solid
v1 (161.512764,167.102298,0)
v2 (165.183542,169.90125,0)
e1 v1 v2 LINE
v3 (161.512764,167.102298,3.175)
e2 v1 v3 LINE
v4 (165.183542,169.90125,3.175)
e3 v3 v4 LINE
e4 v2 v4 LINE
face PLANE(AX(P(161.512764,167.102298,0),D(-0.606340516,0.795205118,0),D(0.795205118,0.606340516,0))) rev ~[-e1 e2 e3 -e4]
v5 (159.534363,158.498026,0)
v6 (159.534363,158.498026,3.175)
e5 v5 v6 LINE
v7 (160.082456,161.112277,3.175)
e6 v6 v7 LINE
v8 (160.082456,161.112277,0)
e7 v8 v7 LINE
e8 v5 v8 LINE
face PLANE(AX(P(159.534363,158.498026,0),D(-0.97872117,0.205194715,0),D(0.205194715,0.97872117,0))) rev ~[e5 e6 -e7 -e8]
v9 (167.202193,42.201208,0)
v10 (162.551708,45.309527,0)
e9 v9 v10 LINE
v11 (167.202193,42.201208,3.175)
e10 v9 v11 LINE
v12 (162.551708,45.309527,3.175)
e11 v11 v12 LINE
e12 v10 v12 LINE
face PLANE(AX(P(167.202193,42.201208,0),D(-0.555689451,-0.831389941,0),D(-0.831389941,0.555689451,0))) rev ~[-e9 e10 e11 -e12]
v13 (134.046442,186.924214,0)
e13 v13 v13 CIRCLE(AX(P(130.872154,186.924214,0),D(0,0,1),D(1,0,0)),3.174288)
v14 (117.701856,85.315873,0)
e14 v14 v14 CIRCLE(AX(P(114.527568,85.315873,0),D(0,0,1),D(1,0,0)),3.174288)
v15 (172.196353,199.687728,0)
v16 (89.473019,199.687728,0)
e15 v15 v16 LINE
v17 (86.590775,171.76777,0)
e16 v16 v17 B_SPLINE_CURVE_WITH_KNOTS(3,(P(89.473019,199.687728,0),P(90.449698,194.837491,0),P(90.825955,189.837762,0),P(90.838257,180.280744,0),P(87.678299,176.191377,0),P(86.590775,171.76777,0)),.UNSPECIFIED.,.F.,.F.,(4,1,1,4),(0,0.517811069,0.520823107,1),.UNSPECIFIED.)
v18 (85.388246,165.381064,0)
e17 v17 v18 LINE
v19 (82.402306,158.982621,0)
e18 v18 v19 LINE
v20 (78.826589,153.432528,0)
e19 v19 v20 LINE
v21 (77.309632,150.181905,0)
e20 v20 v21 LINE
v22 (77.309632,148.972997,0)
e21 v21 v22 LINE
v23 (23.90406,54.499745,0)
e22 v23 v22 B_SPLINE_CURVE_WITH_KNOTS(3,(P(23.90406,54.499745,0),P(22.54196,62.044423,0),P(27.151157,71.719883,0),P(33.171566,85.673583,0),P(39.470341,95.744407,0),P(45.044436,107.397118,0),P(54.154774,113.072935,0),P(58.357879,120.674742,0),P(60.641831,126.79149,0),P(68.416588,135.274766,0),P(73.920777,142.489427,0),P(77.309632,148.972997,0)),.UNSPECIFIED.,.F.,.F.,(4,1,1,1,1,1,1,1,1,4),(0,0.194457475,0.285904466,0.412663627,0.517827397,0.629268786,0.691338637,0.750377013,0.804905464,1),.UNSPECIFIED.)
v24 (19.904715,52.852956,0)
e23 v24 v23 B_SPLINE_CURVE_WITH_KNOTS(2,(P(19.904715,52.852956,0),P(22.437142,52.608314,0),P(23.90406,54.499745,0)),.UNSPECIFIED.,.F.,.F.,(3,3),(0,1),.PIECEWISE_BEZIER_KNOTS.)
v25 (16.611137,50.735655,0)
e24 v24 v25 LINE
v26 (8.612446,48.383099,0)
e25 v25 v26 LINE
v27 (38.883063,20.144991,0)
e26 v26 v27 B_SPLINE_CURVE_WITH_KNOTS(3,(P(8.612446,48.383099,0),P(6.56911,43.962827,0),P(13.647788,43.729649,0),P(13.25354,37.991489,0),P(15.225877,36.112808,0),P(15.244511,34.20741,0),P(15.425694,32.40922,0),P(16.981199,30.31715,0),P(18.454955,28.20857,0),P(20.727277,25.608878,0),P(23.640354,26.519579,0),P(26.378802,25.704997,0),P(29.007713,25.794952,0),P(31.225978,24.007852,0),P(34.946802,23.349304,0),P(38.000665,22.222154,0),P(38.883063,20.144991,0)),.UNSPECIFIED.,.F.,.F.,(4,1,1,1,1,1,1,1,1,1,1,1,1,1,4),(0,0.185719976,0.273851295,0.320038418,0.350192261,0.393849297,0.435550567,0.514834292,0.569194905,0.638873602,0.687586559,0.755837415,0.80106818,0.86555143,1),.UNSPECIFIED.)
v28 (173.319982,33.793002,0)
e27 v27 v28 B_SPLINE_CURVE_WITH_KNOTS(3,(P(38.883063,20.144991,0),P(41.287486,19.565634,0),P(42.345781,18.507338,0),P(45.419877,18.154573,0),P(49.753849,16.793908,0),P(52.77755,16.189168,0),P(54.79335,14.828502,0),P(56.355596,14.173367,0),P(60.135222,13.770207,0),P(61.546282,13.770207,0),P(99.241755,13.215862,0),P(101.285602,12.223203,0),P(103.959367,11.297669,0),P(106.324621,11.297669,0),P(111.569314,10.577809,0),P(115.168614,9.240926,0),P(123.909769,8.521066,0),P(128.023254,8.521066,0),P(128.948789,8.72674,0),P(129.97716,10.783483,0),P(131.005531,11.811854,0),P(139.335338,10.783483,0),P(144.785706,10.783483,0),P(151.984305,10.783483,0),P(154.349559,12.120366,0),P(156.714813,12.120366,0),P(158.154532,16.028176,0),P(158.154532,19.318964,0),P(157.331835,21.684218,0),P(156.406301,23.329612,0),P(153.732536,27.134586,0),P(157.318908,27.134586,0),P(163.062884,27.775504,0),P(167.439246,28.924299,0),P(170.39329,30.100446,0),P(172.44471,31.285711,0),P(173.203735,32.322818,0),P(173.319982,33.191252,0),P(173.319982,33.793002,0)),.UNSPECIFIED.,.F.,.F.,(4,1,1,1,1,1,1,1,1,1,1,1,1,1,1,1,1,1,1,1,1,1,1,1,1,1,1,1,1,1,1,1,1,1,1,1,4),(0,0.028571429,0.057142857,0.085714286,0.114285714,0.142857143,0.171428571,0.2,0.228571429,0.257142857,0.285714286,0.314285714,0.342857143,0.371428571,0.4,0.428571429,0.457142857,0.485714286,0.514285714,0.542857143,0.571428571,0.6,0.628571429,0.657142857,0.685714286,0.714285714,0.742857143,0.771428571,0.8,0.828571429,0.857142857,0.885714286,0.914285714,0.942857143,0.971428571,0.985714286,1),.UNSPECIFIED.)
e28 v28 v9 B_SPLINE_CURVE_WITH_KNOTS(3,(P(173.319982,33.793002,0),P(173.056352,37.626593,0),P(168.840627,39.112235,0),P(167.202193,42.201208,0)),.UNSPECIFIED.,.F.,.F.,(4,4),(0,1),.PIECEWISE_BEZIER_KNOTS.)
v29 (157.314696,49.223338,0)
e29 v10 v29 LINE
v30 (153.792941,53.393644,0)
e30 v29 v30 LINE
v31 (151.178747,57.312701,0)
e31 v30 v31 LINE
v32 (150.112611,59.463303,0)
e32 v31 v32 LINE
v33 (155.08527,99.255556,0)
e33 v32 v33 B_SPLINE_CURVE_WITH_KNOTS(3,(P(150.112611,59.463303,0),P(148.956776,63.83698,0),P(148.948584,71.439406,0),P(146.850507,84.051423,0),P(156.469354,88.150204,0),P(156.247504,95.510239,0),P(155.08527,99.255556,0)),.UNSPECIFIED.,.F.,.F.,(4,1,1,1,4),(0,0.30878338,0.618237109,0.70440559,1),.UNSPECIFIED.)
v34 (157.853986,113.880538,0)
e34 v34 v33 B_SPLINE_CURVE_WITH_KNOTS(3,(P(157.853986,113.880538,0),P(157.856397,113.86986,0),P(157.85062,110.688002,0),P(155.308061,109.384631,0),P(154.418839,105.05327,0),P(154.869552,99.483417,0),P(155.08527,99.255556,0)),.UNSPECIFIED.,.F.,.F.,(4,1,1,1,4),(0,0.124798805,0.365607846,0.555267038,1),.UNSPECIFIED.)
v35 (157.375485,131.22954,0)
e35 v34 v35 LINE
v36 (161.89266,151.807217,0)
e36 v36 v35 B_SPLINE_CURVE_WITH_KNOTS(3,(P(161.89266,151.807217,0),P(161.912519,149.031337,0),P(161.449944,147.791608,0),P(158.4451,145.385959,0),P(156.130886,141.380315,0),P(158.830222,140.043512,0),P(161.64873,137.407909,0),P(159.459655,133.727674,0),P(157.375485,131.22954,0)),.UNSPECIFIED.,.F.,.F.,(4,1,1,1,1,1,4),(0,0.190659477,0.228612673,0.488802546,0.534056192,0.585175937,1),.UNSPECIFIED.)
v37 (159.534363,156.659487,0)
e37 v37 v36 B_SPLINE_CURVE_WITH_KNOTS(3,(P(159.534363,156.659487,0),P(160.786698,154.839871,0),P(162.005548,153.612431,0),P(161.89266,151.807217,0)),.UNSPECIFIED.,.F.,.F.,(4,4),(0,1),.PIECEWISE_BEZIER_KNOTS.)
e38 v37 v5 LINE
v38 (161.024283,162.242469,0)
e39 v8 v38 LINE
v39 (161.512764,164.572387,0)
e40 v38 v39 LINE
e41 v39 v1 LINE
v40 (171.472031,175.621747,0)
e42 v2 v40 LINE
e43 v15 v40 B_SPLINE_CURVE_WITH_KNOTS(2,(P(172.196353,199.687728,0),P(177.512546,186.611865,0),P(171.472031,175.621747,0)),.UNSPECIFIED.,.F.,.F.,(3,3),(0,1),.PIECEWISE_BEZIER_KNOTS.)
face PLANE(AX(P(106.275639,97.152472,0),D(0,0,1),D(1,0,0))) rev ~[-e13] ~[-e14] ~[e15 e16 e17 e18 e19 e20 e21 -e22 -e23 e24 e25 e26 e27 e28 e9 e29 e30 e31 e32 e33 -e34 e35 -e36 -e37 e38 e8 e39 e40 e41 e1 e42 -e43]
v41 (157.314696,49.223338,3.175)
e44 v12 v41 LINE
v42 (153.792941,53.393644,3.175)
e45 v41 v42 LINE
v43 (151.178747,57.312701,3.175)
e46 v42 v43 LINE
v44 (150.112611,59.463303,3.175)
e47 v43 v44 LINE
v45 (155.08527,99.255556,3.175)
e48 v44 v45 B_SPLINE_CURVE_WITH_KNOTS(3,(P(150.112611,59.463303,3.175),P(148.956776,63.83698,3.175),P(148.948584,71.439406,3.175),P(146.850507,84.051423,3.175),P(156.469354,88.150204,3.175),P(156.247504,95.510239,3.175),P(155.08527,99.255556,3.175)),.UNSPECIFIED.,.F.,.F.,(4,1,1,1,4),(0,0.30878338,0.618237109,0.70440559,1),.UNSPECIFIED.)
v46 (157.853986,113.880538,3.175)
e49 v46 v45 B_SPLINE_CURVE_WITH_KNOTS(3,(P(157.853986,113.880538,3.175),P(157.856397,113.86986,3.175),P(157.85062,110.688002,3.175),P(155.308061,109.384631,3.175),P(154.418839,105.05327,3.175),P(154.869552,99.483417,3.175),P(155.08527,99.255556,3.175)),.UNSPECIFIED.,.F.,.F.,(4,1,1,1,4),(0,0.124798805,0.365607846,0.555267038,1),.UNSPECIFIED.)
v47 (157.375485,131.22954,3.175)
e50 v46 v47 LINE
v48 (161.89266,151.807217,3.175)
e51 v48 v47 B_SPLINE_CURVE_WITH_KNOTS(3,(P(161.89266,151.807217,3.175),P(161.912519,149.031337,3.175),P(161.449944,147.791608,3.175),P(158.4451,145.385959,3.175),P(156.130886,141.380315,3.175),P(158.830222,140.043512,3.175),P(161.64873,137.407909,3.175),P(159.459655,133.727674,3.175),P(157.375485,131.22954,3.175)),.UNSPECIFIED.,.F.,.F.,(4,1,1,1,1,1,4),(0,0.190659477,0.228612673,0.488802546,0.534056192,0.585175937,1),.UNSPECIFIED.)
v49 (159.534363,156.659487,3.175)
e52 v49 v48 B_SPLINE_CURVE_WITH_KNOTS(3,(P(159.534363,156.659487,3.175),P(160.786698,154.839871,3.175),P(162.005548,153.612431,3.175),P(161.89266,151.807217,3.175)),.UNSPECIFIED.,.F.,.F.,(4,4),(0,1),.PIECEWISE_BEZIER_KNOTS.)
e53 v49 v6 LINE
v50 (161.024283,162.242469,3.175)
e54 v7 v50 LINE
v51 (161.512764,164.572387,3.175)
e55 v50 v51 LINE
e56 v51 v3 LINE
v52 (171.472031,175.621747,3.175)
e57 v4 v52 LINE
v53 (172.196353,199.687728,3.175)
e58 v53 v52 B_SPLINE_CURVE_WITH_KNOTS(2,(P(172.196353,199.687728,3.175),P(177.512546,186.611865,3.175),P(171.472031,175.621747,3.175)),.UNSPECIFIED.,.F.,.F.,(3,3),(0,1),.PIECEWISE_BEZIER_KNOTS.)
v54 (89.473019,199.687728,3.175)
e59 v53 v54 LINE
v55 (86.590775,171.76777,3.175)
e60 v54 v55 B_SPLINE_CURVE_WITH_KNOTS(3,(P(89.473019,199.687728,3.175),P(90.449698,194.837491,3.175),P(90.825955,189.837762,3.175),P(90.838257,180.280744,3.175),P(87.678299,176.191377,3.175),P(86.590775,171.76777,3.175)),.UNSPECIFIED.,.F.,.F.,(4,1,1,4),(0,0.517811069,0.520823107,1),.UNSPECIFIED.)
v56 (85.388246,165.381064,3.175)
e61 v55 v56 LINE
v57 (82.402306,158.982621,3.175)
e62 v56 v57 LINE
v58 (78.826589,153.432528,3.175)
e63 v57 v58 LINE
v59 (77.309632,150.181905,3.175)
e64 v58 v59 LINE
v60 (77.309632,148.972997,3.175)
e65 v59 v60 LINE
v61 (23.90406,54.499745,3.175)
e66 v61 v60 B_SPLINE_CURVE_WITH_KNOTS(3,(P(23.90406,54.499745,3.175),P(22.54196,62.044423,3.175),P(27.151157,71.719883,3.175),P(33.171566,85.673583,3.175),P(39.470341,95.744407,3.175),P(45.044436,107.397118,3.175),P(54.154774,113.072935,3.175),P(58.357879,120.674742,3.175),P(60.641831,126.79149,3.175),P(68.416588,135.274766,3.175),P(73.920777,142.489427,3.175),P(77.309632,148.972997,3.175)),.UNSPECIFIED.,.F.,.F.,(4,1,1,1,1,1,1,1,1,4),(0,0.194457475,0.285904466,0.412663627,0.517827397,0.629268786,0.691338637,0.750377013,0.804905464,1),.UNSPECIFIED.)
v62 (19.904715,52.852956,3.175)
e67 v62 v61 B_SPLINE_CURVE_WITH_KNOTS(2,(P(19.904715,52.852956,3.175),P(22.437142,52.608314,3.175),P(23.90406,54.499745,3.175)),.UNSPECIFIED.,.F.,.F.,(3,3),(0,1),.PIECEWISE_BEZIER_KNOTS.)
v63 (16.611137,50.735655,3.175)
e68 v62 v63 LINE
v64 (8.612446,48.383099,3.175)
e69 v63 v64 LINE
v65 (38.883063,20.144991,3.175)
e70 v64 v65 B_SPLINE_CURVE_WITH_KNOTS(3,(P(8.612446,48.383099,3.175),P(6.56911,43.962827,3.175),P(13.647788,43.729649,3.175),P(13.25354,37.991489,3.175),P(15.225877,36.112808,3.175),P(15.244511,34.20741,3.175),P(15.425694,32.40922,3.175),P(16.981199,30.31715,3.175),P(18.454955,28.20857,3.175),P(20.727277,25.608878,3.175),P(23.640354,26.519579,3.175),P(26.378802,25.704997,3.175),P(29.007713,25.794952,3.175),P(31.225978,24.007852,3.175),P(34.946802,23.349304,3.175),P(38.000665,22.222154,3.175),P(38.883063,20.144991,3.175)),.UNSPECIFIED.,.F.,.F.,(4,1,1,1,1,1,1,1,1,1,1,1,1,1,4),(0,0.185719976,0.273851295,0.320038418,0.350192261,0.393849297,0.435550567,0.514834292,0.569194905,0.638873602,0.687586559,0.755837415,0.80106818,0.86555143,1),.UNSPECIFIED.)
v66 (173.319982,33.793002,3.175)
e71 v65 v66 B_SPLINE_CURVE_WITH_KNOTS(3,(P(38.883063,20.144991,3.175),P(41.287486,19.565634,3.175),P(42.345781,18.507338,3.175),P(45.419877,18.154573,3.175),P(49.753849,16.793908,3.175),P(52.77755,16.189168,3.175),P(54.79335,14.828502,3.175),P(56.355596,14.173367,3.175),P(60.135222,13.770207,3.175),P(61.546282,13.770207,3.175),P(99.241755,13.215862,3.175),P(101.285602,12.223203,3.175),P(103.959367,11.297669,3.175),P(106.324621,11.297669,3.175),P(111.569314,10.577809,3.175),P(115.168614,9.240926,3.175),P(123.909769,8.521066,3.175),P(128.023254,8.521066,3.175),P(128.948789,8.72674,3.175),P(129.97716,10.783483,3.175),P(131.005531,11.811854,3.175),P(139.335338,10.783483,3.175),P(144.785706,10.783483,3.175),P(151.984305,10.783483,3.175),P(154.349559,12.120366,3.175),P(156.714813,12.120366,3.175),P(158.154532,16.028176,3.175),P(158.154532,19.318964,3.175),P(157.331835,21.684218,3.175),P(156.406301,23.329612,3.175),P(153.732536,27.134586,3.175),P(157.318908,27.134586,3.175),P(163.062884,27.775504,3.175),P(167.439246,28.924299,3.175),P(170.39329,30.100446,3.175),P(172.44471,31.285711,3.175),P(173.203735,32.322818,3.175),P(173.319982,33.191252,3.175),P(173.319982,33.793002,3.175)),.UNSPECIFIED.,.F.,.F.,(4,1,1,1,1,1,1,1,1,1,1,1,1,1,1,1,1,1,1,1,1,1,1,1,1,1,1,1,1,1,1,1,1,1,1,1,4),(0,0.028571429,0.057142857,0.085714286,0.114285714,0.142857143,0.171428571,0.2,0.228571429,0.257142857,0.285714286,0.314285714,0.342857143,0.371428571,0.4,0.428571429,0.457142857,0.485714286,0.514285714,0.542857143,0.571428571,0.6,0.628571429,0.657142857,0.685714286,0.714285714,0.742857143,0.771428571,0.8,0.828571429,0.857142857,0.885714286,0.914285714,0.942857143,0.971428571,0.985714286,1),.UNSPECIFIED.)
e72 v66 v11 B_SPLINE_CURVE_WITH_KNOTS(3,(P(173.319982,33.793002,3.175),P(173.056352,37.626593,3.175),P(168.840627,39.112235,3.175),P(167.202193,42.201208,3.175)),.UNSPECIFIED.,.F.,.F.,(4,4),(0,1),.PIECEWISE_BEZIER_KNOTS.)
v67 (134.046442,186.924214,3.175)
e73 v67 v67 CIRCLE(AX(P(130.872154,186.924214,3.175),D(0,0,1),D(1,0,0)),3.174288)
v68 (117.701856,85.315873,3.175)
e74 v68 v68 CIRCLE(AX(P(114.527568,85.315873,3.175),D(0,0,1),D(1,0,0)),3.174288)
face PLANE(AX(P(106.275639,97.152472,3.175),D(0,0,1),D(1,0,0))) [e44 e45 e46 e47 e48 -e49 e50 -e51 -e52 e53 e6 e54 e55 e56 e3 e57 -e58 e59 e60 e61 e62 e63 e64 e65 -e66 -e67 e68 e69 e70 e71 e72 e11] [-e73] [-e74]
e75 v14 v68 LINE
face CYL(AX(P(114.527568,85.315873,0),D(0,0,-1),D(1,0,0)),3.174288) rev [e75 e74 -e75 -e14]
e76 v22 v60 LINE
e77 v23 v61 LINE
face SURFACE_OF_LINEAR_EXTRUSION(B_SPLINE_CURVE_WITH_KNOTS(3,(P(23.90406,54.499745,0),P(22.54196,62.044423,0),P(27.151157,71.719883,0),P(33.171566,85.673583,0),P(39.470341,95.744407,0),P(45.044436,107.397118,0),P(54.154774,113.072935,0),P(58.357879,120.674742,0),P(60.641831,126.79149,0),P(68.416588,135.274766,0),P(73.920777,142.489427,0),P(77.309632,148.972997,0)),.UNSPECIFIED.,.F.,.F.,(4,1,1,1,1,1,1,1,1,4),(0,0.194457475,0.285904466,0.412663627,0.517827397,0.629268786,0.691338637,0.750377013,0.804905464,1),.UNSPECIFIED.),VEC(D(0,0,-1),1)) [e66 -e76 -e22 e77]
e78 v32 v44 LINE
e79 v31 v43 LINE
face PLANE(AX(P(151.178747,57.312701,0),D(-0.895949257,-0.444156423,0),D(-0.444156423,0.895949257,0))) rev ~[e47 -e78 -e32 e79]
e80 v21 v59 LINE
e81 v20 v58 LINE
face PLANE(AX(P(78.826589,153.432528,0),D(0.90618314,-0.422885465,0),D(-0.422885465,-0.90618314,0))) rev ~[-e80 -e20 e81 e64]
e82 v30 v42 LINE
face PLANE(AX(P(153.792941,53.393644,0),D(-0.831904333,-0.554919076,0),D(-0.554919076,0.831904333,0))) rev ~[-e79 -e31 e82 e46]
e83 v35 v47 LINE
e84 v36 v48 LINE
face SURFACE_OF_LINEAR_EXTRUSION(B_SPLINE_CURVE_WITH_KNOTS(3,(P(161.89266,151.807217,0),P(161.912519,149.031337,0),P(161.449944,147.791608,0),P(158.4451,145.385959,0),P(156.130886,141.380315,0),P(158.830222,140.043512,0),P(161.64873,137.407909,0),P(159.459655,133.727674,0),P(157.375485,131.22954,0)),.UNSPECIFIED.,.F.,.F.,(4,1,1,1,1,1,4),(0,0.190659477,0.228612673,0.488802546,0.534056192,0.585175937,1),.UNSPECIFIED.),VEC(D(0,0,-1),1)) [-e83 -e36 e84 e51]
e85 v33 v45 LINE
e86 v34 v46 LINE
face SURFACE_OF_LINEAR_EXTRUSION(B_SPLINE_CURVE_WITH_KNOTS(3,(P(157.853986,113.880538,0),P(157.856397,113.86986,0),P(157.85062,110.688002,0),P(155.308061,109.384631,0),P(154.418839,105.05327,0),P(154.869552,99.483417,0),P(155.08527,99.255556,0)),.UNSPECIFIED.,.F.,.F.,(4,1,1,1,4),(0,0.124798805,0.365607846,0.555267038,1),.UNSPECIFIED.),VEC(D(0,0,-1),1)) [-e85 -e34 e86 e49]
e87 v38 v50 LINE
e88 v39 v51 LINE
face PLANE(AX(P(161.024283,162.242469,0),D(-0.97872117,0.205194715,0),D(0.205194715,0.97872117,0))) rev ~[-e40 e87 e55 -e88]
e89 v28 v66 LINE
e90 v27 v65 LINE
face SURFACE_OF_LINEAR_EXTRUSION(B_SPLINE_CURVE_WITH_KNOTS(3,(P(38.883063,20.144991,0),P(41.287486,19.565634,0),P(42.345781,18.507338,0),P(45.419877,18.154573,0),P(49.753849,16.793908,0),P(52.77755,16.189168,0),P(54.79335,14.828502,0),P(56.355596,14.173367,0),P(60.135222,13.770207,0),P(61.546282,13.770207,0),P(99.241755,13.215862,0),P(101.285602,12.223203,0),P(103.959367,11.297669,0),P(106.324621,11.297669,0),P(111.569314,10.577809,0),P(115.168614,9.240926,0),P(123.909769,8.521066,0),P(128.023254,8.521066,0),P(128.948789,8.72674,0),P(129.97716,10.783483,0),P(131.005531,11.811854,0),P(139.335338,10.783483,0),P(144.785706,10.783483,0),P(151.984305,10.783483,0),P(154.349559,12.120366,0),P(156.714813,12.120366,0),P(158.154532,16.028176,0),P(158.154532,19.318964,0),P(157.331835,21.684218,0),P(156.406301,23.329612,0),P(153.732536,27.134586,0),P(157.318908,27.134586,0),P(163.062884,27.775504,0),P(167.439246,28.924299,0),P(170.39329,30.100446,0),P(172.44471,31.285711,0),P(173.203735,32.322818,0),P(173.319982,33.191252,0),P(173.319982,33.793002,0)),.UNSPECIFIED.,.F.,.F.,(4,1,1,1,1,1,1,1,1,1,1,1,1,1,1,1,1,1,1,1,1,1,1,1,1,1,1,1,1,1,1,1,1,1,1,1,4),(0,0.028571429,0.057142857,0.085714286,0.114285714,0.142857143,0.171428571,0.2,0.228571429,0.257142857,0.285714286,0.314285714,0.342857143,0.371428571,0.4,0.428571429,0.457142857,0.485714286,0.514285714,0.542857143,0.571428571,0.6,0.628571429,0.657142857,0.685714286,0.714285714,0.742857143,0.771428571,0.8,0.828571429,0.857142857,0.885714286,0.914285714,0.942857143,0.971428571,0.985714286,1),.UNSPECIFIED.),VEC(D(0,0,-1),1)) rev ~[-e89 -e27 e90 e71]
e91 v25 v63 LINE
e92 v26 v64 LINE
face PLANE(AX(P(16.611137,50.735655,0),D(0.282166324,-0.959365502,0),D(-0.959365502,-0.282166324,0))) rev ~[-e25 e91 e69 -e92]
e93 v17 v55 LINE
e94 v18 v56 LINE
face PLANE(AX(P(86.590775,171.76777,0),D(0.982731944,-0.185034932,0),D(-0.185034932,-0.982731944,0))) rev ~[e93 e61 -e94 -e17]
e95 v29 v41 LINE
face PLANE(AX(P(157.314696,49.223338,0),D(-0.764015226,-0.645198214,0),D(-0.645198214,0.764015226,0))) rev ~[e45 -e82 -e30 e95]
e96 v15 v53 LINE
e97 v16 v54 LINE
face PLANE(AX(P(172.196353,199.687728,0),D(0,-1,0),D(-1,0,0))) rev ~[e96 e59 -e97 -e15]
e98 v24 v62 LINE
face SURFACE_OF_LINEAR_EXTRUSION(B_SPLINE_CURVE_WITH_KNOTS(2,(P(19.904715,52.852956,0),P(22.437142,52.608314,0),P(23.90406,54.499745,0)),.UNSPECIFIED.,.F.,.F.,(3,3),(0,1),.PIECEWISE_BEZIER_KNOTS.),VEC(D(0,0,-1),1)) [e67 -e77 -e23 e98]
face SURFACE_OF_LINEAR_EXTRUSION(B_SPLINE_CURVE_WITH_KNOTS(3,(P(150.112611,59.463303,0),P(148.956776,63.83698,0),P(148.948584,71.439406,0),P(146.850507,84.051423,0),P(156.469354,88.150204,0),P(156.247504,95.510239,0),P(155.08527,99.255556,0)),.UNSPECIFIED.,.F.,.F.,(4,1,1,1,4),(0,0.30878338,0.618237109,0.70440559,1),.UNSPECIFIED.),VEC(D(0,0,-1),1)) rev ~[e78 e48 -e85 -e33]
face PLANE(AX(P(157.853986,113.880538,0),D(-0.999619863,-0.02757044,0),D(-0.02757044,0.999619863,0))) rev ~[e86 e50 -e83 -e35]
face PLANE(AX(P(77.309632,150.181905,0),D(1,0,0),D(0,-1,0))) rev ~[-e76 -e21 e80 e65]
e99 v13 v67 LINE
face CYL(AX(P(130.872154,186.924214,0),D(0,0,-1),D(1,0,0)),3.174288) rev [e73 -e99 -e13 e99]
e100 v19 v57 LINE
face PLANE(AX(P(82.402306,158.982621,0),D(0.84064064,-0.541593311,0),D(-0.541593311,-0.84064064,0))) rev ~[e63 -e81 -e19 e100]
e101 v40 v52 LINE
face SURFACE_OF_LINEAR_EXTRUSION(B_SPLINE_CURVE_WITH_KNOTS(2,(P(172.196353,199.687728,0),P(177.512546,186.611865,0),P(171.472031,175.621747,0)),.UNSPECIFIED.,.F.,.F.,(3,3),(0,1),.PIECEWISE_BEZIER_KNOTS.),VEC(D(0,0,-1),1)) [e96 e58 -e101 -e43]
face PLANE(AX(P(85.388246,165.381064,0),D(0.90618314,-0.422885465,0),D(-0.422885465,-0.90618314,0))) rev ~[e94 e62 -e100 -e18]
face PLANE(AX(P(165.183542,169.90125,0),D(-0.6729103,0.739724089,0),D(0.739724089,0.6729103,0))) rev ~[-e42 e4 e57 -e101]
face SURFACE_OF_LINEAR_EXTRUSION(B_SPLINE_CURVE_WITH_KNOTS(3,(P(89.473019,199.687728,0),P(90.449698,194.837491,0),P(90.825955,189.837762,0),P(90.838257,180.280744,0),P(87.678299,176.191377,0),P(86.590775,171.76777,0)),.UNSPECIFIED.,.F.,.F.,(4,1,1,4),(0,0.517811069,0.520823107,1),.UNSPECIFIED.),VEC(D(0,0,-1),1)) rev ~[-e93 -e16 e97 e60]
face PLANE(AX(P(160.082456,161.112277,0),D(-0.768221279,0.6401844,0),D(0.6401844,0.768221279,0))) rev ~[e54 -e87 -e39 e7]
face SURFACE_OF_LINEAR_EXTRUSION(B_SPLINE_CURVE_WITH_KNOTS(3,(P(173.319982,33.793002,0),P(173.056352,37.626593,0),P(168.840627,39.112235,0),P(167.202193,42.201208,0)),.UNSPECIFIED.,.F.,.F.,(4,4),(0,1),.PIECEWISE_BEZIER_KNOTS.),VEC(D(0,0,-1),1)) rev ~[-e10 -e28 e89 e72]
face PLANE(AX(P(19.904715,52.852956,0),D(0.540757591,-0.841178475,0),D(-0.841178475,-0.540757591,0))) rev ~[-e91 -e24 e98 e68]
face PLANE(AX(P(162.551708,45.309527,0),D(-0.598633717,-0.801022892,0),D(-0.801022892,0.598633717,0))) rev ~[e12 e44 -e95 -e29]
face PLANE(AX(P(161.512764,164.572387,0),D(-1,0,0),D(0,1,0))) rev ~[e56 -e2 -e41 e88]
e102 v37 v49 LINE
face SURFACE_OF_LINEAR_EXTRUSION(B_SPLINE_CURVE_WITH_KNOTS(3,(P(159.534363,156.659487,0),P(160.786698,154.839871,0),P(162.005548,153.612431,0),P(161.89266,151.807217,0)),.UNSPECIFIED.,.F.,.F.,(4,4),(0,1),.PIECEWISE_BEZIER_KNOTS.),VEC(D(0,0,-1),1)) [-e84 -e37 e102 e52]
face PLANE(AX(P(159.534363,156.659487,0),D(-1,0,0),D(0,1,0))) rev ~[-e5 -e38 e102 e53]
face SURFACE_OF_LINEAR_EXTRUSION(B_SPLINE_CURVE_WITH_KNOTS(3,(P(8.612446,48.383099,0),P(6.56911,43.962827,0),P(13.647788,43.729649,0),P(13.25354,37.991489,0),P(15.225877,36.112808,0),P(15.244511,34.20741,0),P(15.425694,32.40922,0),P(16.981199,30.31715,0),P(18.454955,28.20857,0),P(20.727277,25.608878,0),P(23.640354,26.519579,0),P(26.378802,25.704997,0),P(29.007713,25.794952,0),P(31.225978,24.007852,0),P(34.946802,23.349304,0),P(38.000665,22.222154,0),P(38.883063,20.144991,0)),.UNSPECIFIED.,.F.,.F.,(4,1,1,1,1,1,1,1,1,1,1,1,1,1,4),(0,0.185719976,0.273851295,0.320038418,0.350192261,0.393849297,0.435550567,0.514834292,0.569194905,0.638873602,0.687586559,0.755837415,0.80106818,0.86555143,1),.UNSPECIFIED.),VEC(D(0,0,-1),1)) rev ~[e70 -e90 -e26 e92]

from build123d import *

# Parameters (mm, degrees)
SKETCH1_R           = 3.174288046
SKETCH1_R_2         = 3.174288
BOSS_EXTRUDE2_DEPTH = 3.175


with BuildPart() as part:
    # Sketch1 → Boss-Extrude2 (new body)
    with BuildSketch(Plane.XY):
        with BuildLine():
            Line((167.202192931, 42.201207676), (162.551708352, 45.309526764))
            Line((162.551708352, 45.309526764), (157.314695785, 49.223337881))
            Line((157.314695785, 49.223337881), (153.792941224, 53.393644073))
            Line((153.792941224, 53.393644073), (151.178747268, 57.312700692))
            Line((151.178747268, 57.312700692), (150.112611404, 59.463302564))
            add(Edge.make_bspline(
                [(150.112611404, 59.463302564), (148.956776361, 63.836980097), (148.948583694, 71.439405876), (146.850507307, 84.051422667), (156.469353715, 88.150203705), (156.247504434, 95.51023866), (155.085269681, 99.2555556)],
                knots=[0, 0, 0, 0, 0.30878338, 0.618237109, 0.70440559, 1, 1, 1, 1], degree=3))
            add(Edge.make_bspline(
                [(157.85398611, 113.880538491), (157.856396998, 113.869859914), (157.850620297, 110.688002063), (155.308060719, 109.384630599), (154.418838948, 105.053269567), (154.8695522, 99.483416676), (155.085269681, 99.2555556)],
                knots=[0, 0, 0, 0, 0.124798805, 0.365607846, 0.555267038, 1, 1, 1, 1], degree=3))
            Line((157.85398611, 113.880538491), (157.37548461, 131.229540091))
            add(Edge.make_bspline(
                [(161.892659898, 151.807216677), (161.91251897, 149.031337188), (161.449944322, 147.791607901), (158.445100345, 145.385958906), (156.130886371, 141.380315264), (158.830222147, 140.043511959), (161.648730322, 137.407909117), (159.459654716, 133.727674066), (157.37548461, 131.229540091)],
                knots=[0, 0, 0, 0, 0.190659477, 0.228612673, 0.488802546, 0.534056192, 0.585175937, 1, 1, 1, 1], degree=3))
            add(Edge.make_bspline(
                [(159.534362736, 156.659486678), (160.786697559, 154.839870961), (162.005548182, 153.612430632), (161.892659898, 151.807216677)],
                knots=[0, 0, 0, 0, 1, 1, 1, 1], degree=3))
            Line((159.534362736, 156.659486678), (159.534362736, 158.498026385))
            Line((159.534362736, 158.498026385), (160.082455849, 161.112276627))
            Line((160.082455849, 161.112276627), (161.024283069, 162.24246929))
            Line((161.024283069, 162.24246929), (161.51276424, 164.572387305))
            Line((161.51276424, 164.572387305), (161.51276424, 167.102297744))
            Line((161.51276424, 167.102297744), (165.183542032, 169.901250177))
            Line((165.183542032, 169.901250177), (171.472031107, 175.621746691))
            add(Edge.make_bspline(
                [(172.196352762, 199.687728108), (177.512545782, 186.611864968), (171.472031107, 175.621746691)],
                knots=[0, 0, 0, 1, 1, 1], degree=2))
            Line((172.196352762, 199.687728108), (89.47301913, 199.687728108))
            add(Edge.make_bspline(
                [(89.47301913, 199.687728108), (90.449698127, 194.83749072), (90.825955315, 189.837761557), (90.838257386, 180.280743918), (87.678298822, 176.191377166), (86.590775441, 171.767770411)],
                knots=[0, 0, 0, 0, 0.517811069, 0.520823107, 1, 1, 1, 1], degree=3))
            Line((86.590775441, 171.767770411), (85.388246292, 165.381063893))
            Line((85.388246292, 165.381063893), (82.402306125, 158.982620678))
            Line((82.402306125, 158.982620678), (78.826589302, 153.432528352))
            Line((78.826589302, 153.432528352), (77.30963174, 150.181905003))
            Line((77.30963174, 150.181905003), (77.30963174, 148.972997238))
            add(Edge.make_bspline(
                [(23.904060298, 54.499744977), (22.54196001, 62.044422938), (27.151157223, 71.719882884), (33.171565612, 85.673583344), (39.470341202, 95.744406946), (45.044436084, 107.397118431), (54.154773918, 113.07293548), (58.357878564, 120.674742163), (60.641830631, 126.791490456), (68.416588167, 135.274765788), (73.920776574, 142.489426767), (77.30963174, 148.972997238)],
                knots=[0, 0, 0, 0, 0.194457475, 0.285904466, 0.412663627, 0.517827397, 0.629268786, 0.691338637, 0.750377013, 0.804905464, 1, 1, 1, 1], degree=3))
            add(Edge.make_bspline(
                [(19.90471503, 52.852955749), (22.437142387, 52.608313662), (23.904060298, 54.499744977)],
                knots=[0, 0, 0, 1, 1, 1], degree=2))
            Line((19.90471503, 52.852955749), (16.611136574, 50.735655313))
            Line((16.611136574, 50.735655313), (8.612446038, 48.383099273))
            add(Edge.make_bspline(
                [(8.612446038, 48.383099273), (6.569110394, 43.962826835), (13.647787757, 43.729648821), (13.25353988, 37.991488936), (15.22587651, 36.112808324), (15.244510931, 34.207409749), (15.425694449, 32.409220236), (16.98119857, 30.317149701), (18.454955258, 28.208570124), (20.727276999, 25.608877763), (23.640354073, 26.519579017), (26.378802415, 25.704997487), (29.007712932, 25.794951803), (31.225977748, 24.007852384), (34.946801718, 23.349304233), (38.00066538, 22.222153794), (38.883062856, 20.144990847)],
                knots=[0, 0, 0, 0, 0.185719976, 0.273851295, 0.320038418, 0.350192261, 0.393849297, 0.435550567, 0.514834292, 0.569194905, 0.638873602, 0.687586559, 0.755837415, 0.80106818, 0.86555143, 1, 1, 1, 1], degree=3))
            add(Edge.make_bspline(
                [(38.883062856, 20.144990847), (41.287485761, 19.565633761), (42.345781106, 18.507338416), (45.419877108, 18.154573301), (49.753848521, 16.793907858), (52.777549507, 16.18916766), (54.793350164, 14.828502217), (56.355595674, 14.173367003), (60.135221906, 13.770206872), (61.546282366, 13.770206872), (99.241754657, 13.215861691), (101.285601848, 12.223202762), (103.959367113, 11.297668631), (106.324621001, 11.297668631), (111.569314404, 10.577808752), (115.168613799, 9.24092612), (123.909769472, 8.521066241), (128.023254495, 8.521066241), (128.948788625, 8.726740492), (129.97715988, 10.783483004), (131.005531136, 11.811854259), (139.335338307, 10.783483004), (144.785705962, 10.783483004), (151.984304751, 10.783483004), (154.349558639, 12.120365636), (156.714812527, 12.120365636), (158.154532285, 16.028176407), (158.154532285, 19.318964425), (157.331835281, 21.684218313), (156.40630115, 23.329612322), (153.732535886, 27.134585968), (157.318908473, 27.134585968), (163.062883757, 27.775503981), (167.439245879, 28.924299038), (170.393290311, 30.100446358), (172.444710055, 31.285711099), (173.20373536, 32.322817748), (173.319982479, 33.191252106), (173.319982479, 33.793001898)],
                knots=[0, 0, 0, 0, 0.028571429, 0.057142857, 0.085714286, 0.114285714, 0.142857143, 0.171428571, 0.2, 0.228571429, 0.257142857, 0.285714286, 0.314285714, 0.342857143, 0.371428571, 0.4, 0.428571429, 0.457142857, 0.485714286, 0.514285714, 0.542857143, 0.571428571, 0.6, 0.628571429, 0.657142857, 0.685714286, 0.714285714, 0.742857143, 0.771428571, 0.8, 0.828571429, 0.857142857, 0.885714286, 0.914285714, 0.942857143, 0.971428571, 0.985714286, 1, 1, 1, 1], degree=3))
            add(Edge.make_bspline(
                [(173.319982479, 33.793001898), (173.056351571, 37.626592871), (168.840626644, 39.112234918), (167.202192931, 42.201207676)],
                knots=[0, 0, 0, 0, 1, 1, 1, 1], degree=3))
        make_face()
        with Locations((130.872154182, 186.924213923)):
            Circle(SKETCH1_R, mode=Mode.SUBTRACT)
        with Locations((114.527567577, 85.315873367)):
            Circle(SKETCH1_R_2, mode=Mode.SUBTRACT)
    extrude(amount=BOSS_EXTRUDE2_DEPTH)


solid = part.part
